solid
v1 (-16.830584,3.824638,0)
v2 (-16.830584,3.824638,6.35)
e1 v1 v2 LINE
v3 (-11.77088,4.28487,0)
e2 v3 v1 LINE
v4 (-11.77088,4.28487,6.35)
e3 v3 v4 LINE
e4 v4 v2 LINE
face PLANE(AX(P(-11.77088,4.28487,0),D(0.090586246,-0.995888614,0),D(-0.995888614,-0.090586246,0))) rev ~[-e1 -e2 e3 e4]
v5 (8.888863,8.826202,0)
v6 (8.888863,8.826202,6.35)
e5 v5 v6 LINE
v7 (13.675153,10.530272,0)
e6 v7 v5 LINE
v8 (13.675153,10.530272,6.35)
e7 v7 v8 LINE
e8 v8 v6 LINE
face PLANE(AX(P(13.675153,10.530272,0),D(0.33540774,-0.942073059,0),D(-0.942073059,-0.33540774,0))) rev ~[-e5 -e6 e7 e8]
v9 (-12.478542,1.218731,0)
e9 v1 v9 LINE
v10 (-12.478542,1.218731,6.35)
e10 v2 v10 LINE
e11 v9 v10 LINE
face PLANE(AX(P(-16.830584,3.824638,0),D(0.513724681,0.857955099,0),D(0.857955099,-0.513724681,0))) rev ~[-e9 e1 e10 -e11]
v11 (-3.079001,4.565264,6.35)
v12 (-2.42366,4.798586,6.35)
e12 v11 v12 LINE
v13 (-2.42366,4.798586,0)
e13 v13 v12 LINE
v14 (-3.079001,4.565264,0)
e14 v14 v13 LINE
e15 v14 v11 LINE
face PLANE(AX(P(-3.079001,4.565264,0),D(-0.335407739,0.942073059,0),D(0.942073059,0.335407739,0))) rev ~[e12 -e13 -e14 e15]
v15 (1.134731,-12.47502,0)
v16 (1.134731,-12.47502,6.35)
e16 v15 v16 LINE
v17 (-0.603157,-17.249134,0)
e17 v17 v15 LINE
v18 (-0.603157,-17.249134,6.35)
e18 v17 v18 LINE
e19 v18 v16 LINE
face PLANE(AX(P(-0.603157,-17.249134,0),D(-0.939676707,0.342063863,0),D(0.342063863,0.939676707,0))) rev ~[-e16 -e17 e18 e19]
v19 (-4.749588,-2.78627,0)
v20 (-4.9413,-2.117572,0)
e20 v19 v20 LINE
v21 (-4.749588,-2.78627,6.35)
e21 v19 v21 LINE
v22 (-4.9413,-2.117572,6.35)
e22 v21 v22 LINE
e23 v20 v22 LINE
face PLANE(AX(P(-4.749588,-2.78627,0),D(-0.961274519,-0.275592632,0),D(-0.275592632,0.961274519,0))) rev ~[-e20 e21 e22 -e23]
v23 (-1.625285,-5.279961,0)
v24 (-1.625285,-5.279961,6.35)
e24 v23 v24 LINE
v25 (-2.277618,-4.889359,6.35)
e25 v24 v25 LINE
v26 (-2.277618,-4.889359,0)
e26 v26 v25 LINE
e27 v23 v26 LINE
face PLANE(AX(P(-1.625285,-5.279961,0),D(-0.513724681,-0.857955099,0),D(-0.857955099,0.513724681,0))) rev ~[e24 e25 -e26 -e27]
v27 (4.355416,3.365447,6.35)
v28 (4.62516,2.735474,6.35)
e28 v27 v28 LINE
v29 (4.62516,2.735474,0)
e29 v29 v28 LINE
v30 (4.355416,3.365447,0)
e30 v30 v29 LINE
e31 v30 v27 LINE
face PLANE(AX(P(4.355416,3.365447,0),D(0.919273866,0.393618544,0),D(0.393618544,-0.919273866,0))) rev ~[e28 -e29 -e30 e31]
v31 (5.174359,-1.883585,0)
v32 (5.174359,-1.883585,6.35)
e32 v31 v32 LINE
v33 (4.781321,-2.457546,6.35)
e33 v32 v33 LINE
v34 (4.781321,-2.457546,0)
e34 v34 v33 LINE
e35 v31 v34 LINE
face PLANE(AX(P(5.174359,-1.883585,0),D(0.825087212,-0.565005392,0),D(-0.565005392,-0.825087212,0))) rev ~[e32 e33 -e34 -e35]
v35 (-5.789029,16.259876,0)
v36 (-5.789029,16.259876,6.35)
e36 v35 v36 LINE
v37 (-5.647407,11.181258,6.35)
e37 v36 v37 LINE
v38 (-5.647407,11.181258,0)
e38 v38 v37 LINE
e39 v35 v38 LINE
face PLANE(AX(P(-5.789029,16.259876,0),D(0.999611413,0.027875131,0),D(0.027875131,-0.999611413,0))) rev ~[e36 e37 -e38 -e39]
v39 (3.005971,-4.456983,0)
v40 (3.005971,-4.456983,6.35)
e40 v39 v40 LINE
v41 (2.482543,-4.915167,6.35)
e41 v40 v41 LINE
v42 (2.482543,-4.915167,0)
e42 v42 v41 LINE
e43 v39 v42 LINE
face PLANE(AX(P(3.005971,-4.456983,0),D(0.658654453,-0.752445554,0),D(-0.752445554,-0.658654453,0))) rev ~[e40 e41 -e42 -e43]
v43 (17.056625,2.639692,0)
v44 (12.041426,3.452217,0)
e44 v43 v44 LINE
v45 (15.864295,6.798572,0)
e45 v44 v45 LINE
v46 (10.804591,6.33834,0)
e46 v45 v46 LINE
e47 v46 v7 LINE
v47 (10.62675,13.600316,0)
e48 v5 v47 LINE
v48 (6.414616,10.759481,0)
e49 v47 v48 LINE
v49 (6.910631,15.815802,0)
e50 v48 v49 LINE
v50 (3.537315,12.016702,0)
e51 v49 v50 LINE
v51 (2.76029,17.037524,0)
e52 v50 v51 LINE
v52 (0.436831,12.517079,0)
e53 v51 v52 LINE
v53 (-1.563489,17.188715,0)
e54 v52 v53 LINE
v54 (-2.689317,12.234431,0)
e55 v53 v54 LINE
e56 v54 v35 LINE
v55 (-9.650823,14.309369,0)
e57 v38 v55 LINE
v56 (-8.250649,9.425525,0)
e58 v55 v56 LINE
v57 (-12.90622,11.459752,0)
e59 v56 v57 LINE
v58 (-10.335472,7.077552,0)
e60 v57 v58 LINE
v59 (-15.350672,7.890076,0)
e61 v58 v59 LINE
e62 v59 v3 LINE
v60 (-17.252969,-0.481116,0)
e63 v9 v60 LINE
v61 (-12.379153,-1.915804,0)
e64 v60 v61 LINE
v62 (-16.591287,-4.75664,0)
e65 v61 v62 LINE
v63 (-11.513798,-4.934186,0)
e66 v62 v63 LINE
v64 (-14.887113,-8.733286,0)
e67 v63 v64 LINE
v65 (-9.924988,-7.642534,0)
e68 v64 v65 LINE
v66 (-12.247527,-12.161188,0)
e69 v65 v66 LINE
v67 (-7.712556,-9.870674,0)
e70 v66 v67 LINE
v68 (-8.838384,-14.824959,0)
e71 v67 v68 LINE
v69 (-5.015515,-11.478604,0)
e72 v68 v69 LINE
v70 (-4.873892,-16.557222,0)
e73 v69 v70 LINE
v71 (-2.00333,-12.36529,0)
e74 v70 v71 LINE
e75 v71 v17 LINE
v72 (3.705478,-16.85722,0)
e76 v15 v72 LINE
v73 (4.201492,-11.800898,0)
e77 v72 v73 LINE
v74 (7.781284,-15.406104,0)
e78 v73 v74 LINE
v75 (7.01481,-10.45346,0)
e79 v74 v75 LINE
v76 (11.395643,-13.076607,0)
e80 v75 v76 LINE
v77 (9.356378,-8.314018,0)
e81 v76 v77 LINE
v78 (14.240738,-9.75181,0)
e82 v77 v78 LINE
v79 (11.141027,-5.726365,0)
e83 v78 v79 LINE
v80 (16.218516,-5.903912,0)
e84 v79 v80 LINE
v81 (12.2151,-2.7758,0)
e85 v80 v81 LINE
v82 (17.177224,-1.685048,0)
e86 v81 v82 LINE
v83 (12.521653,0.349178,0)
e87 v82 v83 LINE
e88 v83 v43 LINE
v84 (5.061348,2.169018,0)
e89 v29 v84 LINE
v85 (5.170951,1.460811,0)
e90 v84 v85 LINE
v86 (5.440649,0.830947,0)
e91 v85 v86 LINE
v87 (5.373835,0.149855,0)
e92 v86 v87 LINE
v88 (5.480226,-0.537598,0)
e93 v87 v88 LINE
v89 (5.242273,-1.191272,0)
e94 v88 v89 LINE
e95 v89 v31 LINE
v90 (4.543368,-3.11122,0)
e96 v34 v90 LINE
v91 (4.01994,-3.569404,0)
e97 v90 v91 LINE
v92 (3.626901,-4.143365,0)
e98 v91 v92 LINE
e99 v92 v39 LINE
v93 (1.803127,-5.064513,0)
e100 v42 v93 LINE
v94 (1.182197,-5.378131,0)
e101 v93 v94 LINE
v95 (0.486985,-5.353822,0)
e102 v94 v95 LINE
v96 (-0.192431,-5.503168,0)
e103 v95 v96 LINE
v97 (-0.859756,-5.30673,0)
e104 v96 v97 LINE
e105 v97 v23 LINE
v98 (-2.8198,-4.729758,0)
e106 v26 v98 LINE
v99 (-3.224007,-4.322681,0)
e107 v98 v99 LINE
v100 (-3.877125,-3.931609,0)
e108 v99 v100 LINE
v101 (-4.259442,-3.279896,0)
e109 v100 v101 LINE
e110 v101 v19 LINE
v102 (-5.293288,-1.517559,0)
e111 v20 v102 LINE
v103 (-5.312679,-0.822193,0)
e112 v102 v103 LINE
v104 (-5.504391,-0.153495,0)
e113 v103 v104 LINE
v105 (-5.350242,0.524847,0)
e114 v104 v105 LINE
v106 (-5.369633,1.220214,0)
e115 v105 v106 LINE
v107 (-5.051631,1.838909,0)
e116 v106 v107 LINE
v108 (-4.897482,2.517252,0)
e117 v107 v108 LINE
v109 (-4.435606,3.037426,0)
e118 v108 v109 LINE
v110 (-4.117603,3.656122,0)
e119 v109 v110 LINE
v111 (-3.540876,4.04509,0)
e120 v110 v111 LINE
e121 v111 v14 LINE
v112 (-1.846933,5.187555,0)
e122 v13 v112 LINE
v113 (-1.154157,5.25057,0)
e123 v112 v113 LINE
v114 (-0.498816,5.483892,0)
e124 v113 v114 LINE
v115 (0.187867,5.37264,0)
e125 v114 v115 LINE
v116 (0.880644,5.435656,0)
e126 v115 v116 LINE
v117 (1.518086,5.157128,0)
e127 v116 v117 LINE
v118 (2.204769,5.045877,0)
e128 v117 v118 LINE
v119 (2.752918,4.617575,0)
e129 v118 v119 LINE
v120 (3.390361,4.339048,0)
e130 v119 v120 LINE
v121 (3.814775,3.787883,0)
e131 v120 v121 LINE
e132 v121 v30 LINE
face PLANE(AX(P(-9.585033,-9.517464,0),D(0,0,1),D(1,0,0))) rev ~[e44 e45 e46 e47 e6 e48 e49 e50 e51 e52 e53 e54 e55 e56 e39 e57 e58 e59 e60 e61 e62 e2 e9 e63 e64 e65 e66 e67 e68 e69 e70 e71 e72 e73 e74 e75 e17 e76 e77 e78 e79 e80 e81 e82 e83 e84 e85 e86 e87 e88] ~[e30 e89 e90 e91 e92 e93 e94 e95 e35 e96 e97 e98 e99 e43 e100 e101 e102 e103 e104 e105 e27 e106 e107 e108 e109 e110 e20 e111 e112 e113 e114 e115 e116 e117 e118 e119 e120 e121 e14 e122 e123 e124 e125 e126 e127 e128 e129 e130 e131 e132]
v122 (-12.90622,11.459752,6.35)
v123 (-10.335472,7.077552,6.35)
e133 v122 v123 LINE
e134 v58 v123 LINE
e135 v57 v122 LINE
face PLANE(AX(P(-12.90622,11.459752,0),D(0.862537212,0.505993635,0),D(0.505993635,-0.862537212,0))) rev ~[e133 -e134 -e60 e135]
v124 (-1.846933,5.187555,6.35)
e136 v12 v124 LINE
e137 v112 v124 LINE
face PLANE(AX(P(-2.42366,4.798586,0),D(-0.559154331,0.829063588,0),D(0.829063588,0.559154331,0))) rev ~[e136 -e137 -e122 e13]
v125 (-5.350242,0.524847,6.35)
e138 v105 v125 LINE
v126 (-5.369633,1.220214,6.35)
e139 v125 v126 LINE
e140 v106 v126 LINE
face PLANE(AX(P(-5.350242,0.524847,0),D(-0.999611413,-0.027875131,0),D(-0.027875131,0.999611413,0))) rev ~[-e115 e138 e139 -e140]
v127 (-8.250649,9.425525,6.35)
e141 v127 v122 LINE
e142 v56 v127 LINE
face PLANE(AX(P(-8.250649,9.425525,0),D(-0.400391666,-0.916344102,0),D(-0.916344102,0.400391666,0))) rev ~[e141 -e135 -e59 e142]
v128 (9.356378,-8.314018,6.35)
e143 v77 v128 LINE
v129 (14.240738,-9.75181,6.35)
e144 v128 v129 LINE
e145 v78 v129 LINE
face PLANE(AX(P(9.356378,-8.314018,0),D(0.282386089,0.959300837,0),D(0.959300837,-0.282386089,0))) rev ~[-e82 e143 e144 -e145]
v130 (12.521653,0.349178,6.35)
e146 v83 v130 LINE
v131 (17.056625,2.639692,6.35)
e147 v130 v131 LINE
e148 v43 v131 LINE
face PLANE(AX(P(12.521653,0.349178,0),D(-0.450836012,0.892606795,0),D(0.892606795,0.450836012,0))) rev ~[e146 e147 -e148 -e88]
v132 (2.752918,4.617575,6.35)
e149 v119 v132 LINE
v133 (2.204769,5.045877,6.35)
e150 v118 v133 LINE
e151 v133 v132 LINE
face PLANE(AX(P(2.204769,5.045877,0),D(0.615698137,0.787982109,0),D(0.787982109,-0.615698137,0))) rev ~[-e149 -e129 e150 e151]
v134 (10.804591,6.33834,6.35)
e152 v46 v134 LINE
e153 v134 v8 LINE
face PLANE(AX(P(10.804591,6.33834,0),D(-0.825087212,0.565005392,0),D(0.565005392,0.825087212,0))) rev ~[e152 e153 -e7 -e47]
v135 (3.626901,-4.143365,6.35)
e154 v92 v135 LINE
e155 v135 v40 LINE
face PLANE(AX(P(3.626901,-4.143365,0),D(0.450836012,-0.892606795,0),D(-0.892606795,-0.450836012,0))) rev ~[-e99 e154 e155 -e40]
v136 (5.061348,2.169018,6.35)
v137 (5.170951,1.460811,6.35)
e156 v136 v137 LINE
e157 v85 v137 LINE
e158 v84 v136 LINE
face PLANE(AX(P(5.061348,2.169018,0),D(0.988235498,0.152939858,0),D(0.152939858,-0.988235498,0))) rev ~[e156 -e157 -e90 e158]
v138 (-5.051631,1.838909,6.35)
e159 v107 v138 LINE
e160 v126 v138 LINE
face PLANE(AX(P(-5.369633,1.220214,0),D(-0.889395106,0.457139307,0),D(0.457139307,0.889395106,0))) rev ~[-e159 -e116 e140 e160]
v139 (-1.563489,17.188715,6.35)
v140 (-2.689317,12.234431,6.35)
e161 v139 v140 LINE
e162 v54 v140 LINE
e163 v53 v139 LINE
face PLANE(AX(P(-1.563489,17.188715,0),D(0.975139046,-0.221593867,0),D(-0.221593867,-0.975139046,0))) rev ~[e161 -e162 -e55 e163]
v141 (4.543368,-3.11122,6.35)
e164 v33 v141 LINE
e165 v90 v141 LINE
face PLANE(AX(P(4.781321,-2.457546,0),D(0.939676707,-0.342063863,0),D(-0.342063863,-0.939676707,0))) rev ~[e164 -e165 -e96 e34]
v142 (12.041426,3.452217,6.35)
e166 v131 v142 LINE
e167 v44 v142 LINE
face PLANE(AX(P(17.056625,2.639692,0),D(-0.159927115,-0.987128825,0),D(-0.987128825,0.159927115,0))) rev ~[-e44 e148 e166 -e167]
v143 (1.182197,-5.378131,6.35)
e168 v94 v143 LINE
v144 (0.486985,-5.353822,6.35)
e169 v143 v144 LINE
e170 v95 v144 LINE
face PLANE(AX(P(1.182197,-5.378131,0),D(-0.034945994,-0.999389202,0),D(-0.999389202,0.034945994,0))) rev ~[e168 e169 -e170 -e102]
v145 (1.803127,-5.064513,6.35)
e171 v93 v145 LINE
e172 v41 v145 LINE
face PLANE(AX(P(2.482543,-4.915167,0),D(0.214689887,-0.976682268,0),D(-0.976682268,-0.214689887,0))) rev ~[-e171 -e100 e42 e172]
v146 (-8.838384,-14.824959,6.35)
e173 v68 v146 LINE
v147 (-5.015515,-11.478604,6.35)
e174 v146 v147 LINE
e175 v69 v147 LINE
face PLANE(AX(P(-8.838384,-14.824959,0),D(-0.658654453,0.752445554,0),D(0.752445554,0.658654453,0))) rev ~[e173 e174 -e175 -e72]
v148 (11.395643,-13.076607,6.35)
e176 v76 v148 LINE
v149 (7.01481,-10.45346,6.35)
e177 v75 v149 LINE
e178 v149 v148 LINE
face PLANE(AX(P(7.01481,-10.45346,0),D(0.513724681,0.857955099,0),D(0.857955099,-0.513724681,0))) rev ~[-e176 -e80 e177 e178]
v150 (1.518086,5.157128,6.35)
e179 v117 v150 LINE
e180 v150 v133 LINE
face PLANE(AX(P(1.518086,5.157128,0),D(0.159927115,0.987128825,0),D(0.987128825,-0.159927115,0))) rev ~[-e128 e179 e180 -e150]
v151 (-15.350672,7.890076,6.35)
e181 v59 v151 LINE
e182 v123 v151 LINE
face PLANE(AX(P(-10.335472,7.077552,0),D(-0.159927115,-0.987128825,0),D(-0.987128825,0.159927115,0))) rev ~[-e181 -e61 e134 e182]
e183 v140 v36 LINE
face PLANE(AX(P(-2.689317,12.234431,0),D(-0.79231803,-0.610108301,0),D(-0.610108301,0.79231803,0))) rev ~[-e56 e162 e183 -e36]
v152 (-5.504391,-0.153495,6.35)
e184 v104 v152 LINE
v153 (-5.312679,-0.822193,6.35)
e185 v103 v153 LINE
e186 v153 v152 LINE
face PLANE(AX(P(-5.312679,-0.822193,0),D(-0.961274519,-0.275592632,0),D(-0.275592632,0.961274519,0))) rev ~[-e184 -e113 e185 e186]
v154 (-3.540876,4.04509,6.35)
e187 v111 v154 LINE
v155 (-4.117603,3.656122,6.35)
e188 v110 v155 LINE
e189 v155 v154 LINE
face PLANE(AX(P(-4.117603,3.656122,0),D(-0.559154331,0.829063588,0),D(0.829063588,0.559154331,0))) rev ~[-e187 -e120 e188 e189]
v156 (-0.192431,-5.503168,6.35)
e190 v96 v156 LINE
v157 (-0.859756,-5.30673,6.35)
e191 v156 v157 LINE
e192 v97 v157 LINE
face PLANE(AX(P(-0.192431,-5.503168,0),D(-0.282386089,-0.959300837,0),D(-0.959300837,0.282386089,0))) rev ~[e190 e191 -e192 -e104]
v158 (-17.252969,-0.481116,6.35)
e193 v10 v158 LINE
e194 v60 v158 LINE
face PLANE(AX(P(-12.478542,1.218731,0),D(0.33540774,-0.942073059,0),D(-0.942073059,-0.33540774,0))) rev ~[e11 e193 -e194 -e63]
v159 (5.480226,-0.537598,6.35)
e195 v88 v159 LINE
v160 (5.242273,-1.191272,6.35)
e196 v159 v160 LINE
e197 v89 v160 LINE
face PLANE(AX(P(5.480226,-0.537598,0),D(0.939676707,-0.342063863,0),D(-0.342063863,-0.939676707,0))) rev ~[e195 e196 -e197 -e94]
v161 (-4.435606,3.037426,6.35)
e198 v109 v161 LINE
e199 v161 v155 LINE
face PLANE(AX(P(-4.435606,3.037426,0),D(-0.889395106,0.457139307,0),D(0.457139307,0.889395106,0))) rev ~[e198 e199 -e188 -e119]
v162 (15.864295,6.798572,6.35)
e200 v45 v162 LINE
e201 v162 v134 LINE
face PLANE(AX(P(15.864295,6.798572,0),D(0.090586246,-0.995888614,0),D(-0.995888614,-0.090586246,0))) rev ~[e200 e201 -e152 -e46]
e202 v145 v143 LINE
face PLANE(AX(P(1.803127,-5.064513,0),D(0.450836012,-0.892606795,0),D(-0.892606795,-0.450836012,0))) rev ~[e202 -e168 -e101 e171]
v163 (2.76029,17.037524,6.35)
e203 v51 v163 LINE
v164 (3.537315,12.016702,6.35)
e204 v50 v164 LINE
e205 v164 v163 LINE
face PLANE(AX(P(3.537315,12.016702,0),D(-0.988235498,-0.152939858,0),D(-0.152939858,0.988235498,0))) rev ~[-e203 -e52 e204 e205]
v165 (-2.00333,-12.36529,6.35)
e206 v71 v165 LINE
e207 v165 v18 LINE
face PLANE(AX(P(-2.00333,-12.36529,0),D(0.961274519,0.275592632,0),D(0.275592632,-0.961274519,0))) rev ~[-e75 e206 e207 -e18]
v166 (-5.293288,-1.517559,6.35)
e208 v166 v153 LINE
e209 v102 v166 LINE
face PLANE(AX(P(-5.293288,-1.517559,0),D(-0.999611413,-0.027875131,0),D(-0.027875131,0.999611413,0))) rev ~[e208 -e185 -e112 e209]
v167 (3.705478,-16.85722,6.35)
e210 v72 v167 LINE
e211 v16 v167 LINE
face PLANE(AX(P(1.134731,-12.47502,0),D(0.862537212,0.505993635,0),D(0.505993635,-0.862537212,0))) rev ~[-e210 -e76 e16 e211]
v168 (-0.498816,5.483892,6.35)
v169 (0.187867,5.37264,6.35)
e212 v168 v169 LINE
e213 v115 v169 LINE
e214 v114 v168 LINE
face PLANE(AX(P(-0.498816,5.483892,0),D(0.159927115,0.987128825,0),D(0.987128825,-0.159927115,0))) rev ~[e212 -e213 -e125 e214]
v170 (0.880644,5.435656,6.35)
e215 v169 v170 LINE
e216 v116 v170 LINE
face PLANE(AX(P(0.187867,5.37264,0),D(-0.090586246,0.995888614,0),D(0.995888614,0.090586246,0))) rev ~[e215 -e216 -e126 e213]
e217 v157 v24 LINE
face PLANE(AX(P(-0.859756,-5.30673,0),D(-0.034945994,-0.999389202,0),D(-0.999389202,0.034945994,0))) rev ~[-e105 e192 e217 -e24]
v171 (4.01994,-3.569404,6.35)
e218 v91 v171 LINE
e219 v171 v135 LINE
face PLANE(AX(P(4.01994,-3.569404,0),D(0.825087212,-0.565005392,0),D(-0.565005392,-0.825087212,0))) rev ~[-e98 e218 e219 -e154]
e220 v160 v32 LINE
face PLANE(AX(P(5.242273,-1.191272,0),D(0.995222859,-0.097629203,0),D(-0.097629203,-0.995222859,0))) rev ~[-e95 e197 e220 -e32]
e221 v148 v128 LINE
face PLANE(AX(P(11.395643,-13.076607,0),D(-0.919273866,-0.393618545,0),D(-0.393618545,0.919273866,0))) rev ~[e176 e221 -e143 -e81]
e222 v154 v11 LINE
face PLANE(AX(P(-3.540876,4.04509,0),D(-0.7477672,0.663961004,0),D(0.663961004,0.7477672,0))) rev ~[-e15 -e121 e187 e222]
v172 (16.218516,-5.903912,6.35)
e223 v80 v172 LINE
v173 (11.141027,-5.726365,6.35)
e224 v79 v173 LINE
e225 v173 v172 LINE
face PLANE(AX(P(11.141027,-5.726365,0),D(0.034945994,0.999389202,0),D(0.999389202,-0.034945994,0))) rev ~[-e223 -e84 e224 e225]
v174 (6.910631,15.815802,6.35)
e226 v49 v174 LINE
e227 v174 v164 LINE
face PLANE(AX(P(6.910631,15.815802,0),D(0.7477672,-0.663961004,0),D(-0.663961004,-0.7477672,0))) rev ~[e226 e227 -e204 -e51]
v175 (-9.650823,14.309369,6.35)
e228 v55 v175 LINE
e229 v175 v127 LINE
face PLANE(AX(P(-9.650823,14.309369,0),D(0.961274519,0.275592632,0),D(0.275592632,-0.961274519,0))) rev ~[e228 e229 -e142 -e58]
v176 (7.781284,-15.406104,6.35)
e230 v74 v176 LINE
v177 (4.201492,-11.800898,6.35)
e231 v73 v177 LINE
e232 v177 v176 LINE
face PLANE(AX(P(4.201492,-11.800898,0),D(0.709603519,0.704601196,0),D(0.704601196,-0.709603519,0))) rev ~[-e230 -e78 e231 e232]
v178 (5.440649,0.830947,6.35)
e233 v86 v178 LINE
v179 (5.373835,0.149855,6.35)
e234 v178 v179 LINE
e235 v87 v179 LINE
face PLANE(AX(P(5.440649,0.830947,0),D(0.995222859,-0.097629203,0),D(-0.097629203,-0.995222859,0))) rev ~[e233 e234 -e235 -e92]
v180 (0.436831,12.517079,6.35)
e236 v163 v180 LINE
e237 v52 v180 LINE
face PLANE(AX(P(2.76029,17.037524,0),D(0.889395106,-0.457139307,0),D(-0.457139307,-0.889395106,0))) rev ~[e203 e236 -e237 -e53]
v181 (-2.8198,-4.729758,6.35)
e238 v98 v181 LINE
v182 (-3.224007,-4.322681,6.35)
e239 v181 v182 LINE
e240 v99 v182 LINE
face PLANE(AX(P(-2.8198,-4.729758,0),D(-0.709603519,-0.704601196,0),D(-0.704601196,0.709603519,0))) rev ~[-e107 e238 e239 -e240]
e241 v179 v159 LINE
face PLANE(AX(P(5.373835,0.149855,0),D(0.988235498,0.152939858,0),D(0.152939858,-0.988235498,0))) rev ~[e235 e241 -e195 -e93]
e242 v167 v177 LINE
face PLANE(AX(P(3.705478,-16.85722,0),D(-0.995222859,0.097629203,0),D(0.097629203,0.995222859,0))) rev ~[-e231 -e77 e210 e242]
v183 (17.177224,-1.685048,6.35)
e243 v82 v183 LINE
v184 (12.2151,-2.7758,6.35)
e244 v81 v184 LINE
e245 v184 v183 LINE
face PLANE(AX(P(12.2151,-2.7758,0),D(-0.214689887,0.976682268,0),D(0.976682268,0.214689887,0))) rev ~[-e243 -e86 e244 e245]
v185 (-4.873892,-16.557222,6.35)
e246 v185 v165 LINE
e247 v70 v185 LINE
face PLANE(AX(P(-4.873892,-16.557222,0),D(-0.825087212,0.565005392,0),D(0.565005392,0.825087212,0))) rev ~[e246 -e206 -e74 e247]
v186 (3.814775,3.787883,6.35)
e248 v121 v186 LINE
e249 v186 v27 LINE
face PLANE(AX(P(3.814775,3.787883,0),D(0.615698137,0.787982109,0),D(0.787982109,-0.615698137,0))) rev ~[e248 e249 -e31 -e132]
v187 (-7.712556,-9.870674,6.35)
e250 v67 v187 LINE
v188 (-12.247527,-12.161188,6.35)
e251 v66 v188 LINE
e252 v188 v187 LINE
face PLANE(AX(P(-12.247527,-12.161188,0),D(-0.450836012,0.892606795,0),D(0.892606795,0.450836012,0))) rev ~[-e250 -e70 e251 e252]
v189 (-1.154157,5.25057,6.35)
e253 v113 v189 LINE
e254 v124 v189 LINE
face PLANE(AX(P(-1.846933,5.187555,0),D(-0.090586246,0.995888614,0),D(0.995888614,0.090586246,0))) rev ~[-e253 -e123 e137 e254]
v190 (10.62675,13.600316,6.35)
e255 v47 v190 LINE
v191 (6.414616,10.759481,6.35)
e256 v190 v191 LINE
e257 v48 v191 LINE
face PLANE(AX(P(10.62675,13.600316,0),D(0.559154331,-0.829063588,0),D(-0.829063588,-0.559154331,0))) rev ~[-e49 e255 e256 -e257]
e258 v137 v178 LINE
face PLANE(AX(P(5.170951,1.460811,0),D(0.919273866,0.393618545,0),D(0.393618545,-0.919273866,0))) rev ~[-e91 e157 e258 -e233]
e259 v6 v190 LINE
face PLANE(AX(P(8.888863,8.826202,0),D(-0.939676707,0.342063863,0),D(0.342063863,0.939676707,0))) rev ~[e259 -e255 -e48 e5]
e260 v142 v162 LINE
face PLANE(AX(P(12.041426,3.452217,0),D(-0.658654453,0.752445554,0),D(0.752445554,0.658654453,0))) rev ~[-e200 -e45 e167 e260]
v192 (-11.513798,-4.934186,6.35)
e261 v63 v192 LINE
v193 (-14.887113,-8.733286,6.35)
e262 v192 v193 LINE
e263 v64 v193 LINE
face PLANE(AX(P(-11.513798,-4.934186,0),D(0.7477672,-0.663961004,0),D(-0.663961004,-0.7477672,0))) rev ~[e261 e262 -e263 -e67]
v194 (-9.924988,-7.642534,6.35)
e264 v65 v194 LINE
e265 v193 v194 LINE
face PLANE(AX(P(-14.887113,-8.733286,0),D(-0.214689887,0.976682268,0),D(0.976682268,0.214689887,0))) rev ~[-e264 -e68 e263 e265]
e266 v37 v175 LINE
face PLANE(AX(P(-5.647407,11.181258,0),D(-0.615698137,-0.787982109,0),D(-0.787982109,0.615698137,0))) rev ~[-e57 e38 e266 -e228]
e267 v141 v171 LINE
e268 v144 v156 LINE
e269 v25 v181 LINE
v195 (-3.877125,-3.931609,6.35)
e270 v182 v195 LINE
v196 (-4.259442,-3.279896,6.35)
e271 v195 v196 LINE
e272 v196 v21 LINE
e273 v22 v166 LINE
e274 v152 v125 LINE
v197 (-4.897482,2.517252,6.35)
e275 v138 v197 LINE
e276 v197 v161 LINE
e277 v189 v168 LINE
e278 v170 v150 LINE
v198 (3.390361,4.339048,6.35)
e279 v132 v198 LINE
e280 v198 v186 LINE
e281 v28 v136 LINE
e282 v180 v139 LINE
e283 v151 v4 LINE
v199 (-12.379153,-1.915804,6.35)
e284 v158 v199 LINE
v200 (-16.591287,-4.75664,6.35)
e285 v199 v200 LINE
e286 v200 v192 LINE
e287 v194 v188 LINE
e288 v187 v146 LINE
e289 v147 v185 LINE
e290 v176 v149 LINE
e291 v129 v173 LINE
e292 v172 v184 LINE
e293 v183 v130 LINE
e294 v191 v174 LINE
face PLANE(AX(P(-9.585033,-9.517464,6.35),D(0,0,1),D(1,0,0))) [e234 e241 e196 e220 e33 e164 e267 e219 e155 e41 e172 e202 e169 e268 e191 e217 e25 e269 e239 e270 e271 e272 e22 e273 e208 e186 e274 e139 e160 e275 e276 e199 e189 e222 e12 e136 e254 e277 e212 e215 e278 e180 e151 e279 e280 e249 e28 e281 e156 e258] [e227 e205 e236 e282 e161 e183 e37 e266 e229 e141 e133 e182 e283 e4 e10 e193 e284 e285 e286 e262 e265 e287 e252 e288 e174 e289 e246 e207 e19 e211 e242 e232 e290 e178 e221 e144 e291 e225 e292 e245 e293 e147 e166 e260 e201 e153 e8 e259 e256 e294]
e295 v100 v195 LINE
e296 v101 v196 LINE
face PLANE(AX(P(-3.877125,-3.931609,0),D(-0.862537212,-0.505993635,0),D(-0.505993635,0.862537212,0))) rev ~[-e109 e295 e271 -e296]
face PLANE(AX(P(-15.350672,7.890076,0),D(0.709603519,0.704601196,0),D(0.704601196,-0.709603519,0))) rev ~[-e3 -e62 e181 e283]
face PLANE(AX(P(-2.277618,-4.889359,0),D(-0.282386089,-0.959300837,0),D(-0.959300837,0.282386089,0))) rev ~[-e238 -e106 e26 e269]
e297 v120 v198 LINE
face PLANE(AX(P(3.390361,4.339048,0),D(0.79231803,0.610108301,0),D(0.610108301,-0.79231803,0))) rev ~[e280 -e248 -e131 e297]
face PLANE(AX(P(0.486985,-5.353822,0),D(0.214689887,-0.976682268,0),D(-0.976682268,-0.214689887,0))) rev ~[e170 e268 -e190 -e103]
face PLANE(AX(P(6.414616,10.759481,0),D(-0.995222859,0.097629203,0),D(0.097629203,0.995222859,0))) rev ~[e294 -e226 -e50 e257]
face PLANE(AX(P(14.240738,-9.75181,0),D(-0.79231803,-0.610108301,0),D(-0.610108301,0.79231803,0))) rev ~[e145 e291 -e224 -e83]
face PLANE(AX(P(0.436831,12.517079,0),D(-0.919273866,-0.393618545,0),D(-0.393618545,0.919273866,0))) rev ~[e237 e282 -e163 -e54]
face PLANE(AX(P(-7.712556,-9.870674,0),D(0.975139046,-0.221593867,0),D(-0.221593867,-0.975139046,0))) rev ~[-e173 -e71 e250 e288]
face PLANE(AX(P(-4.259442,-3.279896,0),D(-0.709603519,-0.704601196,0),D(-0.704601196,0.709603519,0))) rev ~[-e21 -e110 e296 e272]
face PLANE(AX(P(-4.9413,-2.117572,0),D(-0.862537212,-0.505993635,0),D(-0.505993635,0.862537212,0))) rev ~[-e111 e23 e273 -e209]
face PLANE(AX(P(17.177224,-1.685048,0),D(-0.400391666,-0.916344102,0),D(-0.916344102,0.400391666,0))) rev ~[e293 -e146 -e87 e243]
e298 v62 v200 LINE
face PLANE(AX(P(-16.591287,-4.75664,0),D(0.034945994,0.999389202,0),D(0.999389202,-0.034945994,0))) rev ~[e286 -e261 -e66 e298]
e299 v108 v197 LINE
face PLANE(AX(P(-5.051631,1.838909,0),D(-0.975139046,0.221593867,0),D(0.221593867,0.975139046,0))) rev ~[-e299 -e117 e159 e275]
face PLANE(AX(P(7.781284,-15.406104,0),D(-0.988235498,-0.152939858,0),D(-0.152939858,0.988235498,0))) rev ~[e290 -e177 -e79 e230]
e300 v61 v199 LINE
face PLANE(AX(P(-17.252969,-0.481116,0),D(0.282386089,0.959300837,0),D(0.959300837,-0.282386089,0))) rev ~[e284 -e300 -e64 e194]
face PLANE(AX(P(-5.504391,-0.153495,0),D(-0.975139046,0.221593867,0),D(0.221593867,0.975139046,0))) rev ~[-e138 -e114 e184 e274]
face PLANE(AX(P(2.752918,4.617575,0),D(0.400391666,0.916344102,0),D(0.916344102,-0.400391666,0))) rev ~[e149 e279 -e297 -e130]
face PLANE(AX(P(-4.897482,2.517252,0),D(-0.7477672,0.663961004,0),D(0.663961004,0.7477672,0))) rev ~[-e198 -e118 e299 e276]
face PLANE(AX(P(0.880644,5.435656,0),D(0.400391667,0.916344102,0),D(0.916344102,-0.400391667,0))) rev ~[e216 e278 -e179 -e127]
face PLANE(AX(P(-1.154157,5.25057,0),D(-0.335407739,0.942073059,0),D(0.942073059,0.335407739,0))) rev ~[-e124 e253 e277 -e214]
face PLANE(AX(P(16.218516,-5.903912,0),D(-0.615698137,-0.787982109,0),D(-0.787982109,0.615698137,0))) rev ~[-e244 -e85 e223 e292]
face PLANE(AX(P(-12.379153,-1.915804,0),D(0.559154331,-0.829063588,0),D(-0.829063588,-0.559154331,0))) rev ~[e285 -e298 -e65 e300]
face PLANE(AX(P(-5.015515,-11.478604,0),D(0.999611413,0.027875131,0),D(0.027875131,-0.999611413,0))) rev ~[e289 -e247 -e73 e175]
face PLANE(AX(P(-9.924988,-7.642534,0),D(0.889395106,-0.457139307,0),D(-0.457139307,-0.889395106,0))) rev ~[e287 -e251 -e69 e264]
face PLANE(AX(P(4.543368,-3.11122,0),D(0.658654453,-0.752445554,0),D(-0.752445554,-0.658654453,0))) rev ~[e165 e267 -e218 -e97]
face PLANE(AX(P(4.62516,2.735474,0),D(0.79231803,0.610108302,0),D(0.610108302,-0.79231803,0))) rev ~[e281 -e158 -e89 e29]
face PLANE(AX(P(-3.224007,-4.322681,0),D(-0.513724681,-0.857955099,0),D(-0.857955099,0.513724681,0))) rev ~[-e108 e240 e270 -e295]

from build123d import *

# Parameters (mm, degrees)
F1_DEPTH = 6.35


with BuildPart() as f1:
    # F0 (on Top) → F1 (new body)
    with BuildSketch(Plane.XY):
        Polygon((-9.9249884928, -7.6425344914), (-12.247526979, -12.1611884982), (-7.7125556882, -9.8706744851), (-7.0632786771, -7.0134863597), align=None)
        Polygon((-14.8871129928, -8.7332862962), (-9.9249884928, -7.6425344914), (-8.5855559204, -5.0365788116), (-11.5137977688, -4.9341859484), align=None)
        Polygon((-2.689317388, 12.2344310052), (-0.9016808431, 9.9129142155), (0.4368313525, 12.5170792408), (-1.5634892742, 17.1887150212), align=None)
        Polygon((2.7602902155, 17.0375239022), (0.4368313525, 12.5170792408), (1.59009399, 9.8236995246), (3.5373152954, 12.0167021489), align=None)
        Polygon((6.9106305194, 15.8158024967), (3.5373152954, 12.0167021489), (3.9854338983, 9.1211410048), (6.4146163322, 10.759480812), align=None)
        Polygon((6.5561399087, -7.4897213623), (7.0148097041, -10.4534600445), (11.3956434652, -13.0766071379), (9.3563779673, -8.3140178118), align=None)
        Polygon((4.4824223233, -8.9371220687), (4.2014921158, -11.8008980182), (7.7812835915, -15.4061042596), (7.0148097041, -10.4534600445), align=None)
        Polygon((2.136988413, -9.7217373504), (1.1347305184, -12.4750197068), (3.7054779287, -16.8572197029), (4.2014921158, -11.8008980182), align=None)
        Polygon((-16.8305841839, 3.8246383906), (-12.478542001, 1.2187310622), (-9.7063763642, 2.2057095149), (-11.770880067, 4.2848701827), align=None)
        Polygon((-15.3506715427, 7.8900764242), (-11.770880067, 4.2848701827), (-8.8528950516, 4.5502907373), (-10.3354723423, 7.0775519423), align=None)
        Polygon((-12.9062197526, 11.4597519383), (-10.3354723423, 7.0775519423), (-7.4431537842, 6.6089604578), (-8.2506488792, 9.4255250839), align=None)
        Polygon((9.1491069561, 3.9208083979), (12.0414255143, 3.4522169134), (15.8642946714, 6.7985717154), (10.8045905545, 6.3383399234), align=None)
        Polygon((9.8367363351, 1.5223386156), (12.5216534238, 0.3491784184), (17.0566247147, 2.6396924315), (12.0414255143, 3.4522169134), align=None)
        Polygon((9.9062873932, -0.9717853007), (12.2150997973, -2.7758002408), (17.1772242973, -1.685048436), (12.5216534238, 0.3491784184), align=None)
        Polygon((-5.0971896576, -8.549710766), (-7.7125556882, -9.8706744851), (-8.8383838019, -14.8249585011), (-5.0155146449, -11.4786036991), align=None)
        Polygon((-16.5912869462, -4.7566395974), (-11.5137977688, -4.9341859484), (-9.5683711098, -2.7432044935), (-12.3791527863, -1.9158043555), align=None)
        Polygon((10.6267504922, 13.600316054), (6.4146163322, 10.759480812), (6.128559691, 7.8434464811), (8.8888634336, 8.8262017251), align=None)
        Polygon((-0.3478467723, -9.9477585018), (-2.0033303707, -12.3652900273), (-0.6031565401, -17.2491340356), (1.1347305184, -12.4750197068), align=None)
        Polygon((-9.6508227097, 14.3093690922), (-8.2506488792, 9.4255250839), (-5.5657317905, 8.2523648867), (-5.6474068032, 11.1812578198), align=None)
        Polygon((9.3533899816, -3.4048483725), (11.1410265265, -5.7263651621), (16.2185157039, -5.9039115131), (12.2150997973, -2.7758002408), align=None)
        Polygon((-17.2529693223, -0.4811157391), (-12.3791527863, -1.9158043555), (-9.9639958973, -0.2869239484), (-12.478542001, 1.2187310622), align=None)
        Polygon((8.8888634336, 8.8262017251), (7.886605539, 6.0729193688), (10.8045905545, 6.3383399234), (13.6751526491, 10.5302717351), align=None)
        Polygon((-2.8108254657, -9.5487254013), (-5.0155146449, -11.4786036991), (-4.8738924653, -16.557221839), (-2.0033303707, -12.3652900273), align=None)
        Polygon((-5.7890289828, 16.2598759598), (-5.6474068032, 11.1812578198), (-3.3385943991, 9.3772428798), (-2.689317388, 12.2344310052), align=None)
        Polygon((8.2044177088, -5.6236797282), (9.3563779673, -8.3140178118), (14.2407381212, -9.7518101167), (11.1410265265, -5.7263651621), align=None)
        Polygon((-11.5137977688, -4.9341859484), (-8.5855559204, -5.0365788116), (-7.6908568489, -3.2958819112), (-9.5683711098, -2.7432044935), align=None)
        Polygon((0.4368313525, 12.5170792408), (-0.9016808431, 9.9129142155), (0.2924044657, 8.3622135988), (1.59009399, 9.8236995246), align=None)
        Polygon((6.4146163322, 10.759480812), (3.9854338983, 9.1211410048), (4.2847631114, 7.1869967109), (6.128559691, 7.8434464811), align=None)
        Polygon((6.2568106956, -5.5555770683), (6.5561399087, -7.4897213623), (9.3563779673, -8.3140178118), (8.2044177088, -5.6236797282), align=None)
        Polygon((2.7912330824, -7.9244750742), (2.136988413, -9.7217373504), (4.2014921158, -11.8008980182), (4.4824223233, -8.9371220687), align=None)
        Polygon((0.7579645009, -8.3329230441), (-0.3478467723, -9.9477585018), (1.1347305184, -12.4750197068), (2.136988413, -9.7217373504), align=None)
        Polygon((-12.478542001, 1.2187310622), (-9.9639958973, -0.2869239484), (-8.3273524521, 0.8168952086), (-9.7063763642, 2.2057095149), align=None)
        Polygon((-10.3354723423, 7.0775519423), (-8.8528950516, 4.5502907373), (-6.9037723127, 4.7275833675), (-7.4431537842, 6.6089604578), align=None)
        Polygon((-8.2506488792, 9.4255250839), (-7.4431537842, 6.6089604578), (-5.5111754362, 6.2959560001), (-5.5657317905, 8.2523648867), align=None)
        Polygon((8.0432956829, 2.3059729401), (9.8367363351, 1.5223386156), (12.0414255143, 3.4522169134), (9.1491069561, 3.9208083979), align=None)
        Polygon((8.3640729087, 0.233240264), (9.9062873932, -0.9717853007), (12.5216534238, 0.3491784184), (9.8367363351, 1.5223386156), align=None)
        Polygon((-3.3502069371, -7.667348311), (-5.0971896576, -8.549710766), (-5.0155146449, -11.4786036991), (-2.8108254657, -9.5487254013), align=None)
        Polygon((-7.0632786771, -7.0134863597), (-7.7125556882, -9.8706744851), (-5.0971896576, -8.549710766), (-5.1517460119, -6.5933018793), align=None)
        Polygon((-12.3791527863, -1.9158043555), (-9.5683711098, -2.7432044935), (-8.2817684408, -1.2942048232), (-9.9639958973, -0.2869239484), align=None)
        Polygon((8.8888634336, 8.8262017251), (6.128559691, 7.8434464811), (5.9374828002, 5.8956267385), (7.886605539, 6.0729193688), align=None)
        Polygon((7.4349186173, -3.8265580864), (8.2044177088, -5.6236797282), (11.1410265265, -5.7263651621), (9.3533899816, -3.4048483725), align=None)
        Polygon((-2.0660911099, -7.0187697185), (-3.3502069371, -7.667348311), (-2.8108254657, -9.5487254013), (-1.3381620393, -8.2596270497), align=None)
        Polygon((-6.6295819379, -5.1049740422), (-7.0632786771, -7.0134863597), (-5.1517460119, -6.5933018793), (-5.1918475408, -5.1552478068), align=None)
        Polygon((-9.5683711098, -2.7432044935), (-7.6908568489, -3.2958819112), (-7.0432040229, -2.0358300091), (-8.2817684408, -1.2942048232), align=None)
        Polygon((-9.7063763642, 2.2057095149), (-8.3273524521, 0.8168952086), (-7.134650714, 1.621301954), (-7.8625797846, 2.8621592851), align=None)
        Polygon((-7.4431537842, 6.6089604578), (-6.9037723127, 4.7275833675), (-5.4710739073, 4.8579019275), (-5.5111754362, 6.2959560001), align=None)
        Polygon((-3.7722911382, 7.4687305622), (-2.4540265099, 6.8927218662), (-1.7963799146, 8.1722173151), (-3.3385943991, 9.3772428798), align=None)
        Polygon((1.59009399, 9.8236995246), (0.2924044657, 8.3622135988), (1.1701142599, 7.2223745025), (2.3602476918, 8.0250490774), align=None)
        Polygon((6.128559691, 7.8434464811), (4.2847631114, 7.1869967109), (4.5047843947, 5.7653081785), (5.9374828002, 5.8956267385), align=None)
        Polygon((7.2171286082, 4.2338128556), (6.7250310546, 2.8819816361), (8.0432956829, 2.3059729401), (9.1491069561, 3.9208083979), align=None)
        Polygon((7.2815948785, -0.7143086595), (8.1593046728, -1.8541477557), (9.9062873932, -0.9717853007), (8.3640729087, 0.233240264), align=None)
        Polygon((6.0367894123, -4.133888536), (6.2568106956, -5.5555770683), (8.2044177088, -5.6236797282), (7.4349186173, -3.8265580864), align=None)
        Polygon((3.2985628975, -6.5307996178), (2.7912330824, -7.9244750742), (4.4824223233, -8.9371220687), (4.6786256479, -6.9370439447), align=None)
        Polygon((-0.2556840091, -7.3120781262), (-1.3381620393, -8.2596270497), (-0.3478467723, -9.9477585018), (0.7579645009, -8.3329230441), align=None)
        Polygon((1.5475949938, -7.1798118856), (0.7579645009, -8.3329230441), (2.136988413, -9.7217373504), (2.7912330824, -7.9244750742), align=None)
        Polygon((4.8190762985, -5.5053033037), (4.6786256479, -6.9370439447), (6.5561399087, -7.4897213623), (6.2568106956, -5.5555770683), align=None)
        Polygon((6.8693397476, -2.5056805986), (7.4349186173, -3.8265580864), (9.3533899816, -3.4048483725), (8.1593046728, -1.8541477557), align=None)
        Polygon((7.2304715254, 1.1189916693), (8.3640729087, 0.233240264), (9.8367363351, 1.5223386156), (8.0432956829, 2.3059729401), align=None)
        Polygon((5.9374828002, 5.8956267385), (5.7970321496, 4.4638860976), (7.2171286082, 4.2338128556), (7.886605539, 6.0729193688), align=None)
        Polygon((3.9854338983, 9.1211410048), (2.3602476918, 8.0250490774), (2.9261977991, 6.7033045851), (4.2847631114, 7.1869967109), align=None)
        Polygon((-0.9016808431, 9.9129142155), (-1.7963799146, 8.1722173151), (-0.6627785313, 7.2864659098), (0.2924044657, 8.3622135988), align=None)
        Polygon((-5.5657317905, 8.2523648867), (-5.5111754362, 6.2959560001), (-4.0910789776, 6.0658827581), (-3.7722911382, 7.4687305622), align=None)
        Polygon((-8.8528950516, 4.5502907373), (-7.8625797846, 2.8621592851), (-6.5073011421, 3.3446812528), (-6.9037723127, 4.7275833675), align=None)
        Polygon((-9.9639958973, -0.2869239484), (-8.2817684408, -1.2942048232), (-7.3137039421, -0.2039497093), (-8.3273524521, 0.8168952086), align=None)
        Polygon((-7.6908568489, -3.2958819112), (-8.5855559204, -5.0365788116), (-6.6295819379, -5.1049740422), (-6.3107940985, -3.702126238), align=None)
        Polygon((-5.1517460119, -6.5933018793), (-5.0971896576, -8.549710766), (-3.3502069371, -7.667348311), (-3.7466781078, -6.2844461962), align=None)
        Polygon((-6.3107940985, -3.702126238), (-6.6295819379, -5.1049740422), (-5.1918475408, -5.1552478068), (-5.2234435106, -4.022205892), align=None)
        Polygon((-8.2817684408, -1.2942048232), (-7.0432040229, -2.0358300091), (-6.5150509077, -1.008272789), (-7.3137039421, -0.2039497093), align=None)
        Polygon((-7.8625797846, 2.8621592851), (-7.134650714, 1.621301954), (-6.1949217518, 2.2550935314), (-6.5073011421, 3.3446812528), align=None)
        Polygon((-5.5111754362, 6.2959560001), (-5.4710739073, 4.8579019275), (-4.3422517192, 4.9605798404), (-4.0910789776, 6.0658827581), align=None)
        Polygon((-1.7963799146, 8.1722173151), (-2.4540265099, 6.8927218662), (-1.4153666242, 6.4388849707), (-0.6627785313, 7.2864659098), align=None)
        Polygon((2.3602476918, 8.0250490774), (1.1701142599, 7.2223745025), (1.8616612642, 6.3242959832), (2.9261977991, 6.7033045851), align=None)
        Polygon((4.5047843947, 5.7653081785), (4.6781390279, 4.6451606627), (5.7970321496, 4.4638860976), (5.9374828002, 5.8956267385), align=None)
        Polygon((6.7250310546, 2.8819816361), (6.3373076963, 1.816874654), (7.2304715254, 1.1189916693), (8.0432956829, 2.3059729401), align=None)
        Polygon((6.4238103153, -1.4651717873), (6.8693397476, -2.5056805986), (8.1593046728, -1.8541477557), (7.2815948785, -0.7143086595), align=None)
        Polygon((4.9297372792, -4.3772357378), (4.8190762985, -5.5053033037), (6.2568106956, -5.5555770683), (6.0367894123, -4.133888536), align=None)
        Polygon((2.2112123096, -6.2107199638), (1.5475949938, -7.1798118856), (2.7912330824, -7.9244750742), (3.2985628975, -6.5307996178), align=None)
        Polygon((-1.0543370435, -6.5077550465), (-2.0660911099, -7.0187697185), (-1.3381620393, -8.2596270497), (-0.2556840091, -7.3120781262), align=None)
        Polygon((-5.1918475408, -5.1552478068), (-5.1517460119, -6.5933018793), (-3.7466781078, -6.2844461962), (-4.059057498, -5.1948584749), align=None)
        Polygon((-3.7466781078, -6.2844461962), (-3.3502069371, -7.667348311), (-2.0660911099, -7.0187697185), (-2.6396259747, -6.0410989944), align=None)
        Polygon((0.5665164592, -6.5923635945), (-0.2556840091, -7.3120781262), (0.7579645009, -8.3329230441), (1.5475949938, -7.1798118856), align=None)
        Polygon((3.6862862557, -5.4656926356), (3.2985628975, -6.5307996178), (4.6786256479, -6.9370439447), (4.8190762985, -5.5053033037), align=None)
        Polygon((5.8634347792, -3.0137410202), (6.0367894123, -4.133888536), (7.4349186173, -3.8265580864), (6.8693397476, -2.5056805986), align=None)
        Polygon((4.2847631114, 7.1869967109), (2.9261977991, 6.7033045851), (3.3719542022, 5.6622656967), (4.5047843947, 5.7653081785), align=None)
        Polygon((0.2924044657, 8.3622135988), (-0.6627785313, 7.2864659098), (0.2303852978, 6.5885829251), (1.1701142599, 7.2223745025), align=None)
        Polygon((-4.0910789776, 6.0658827581), (-2.9721858559, 5.884608193), (-2.4540265099, 6.8927218662), (-3.7722911382, 7.4687305622), align=None)
        Polygon((-6.9037723127, 4.7275833675), (-6.5073011421, 3.3446812528), (-5.4394779374, 3.7248600128), (-5.4710739073, 4.8579019275), align=None)
        Polygon((-8.3273524521, 0.8168952086), (-7.3137039421, -0.2039497093), (-6.5611158492, 0.6436312299), (-7.134650714, 1.621301954), align=None)
        Polygon((-7.0432040229, -2.0358300091), (-7.6908568489, -3.2958819112), (-6.3107940985, -3.702126238), (-6.0652129672, -2.6214295857), align=None)
        Polygon((-8.5855559204, -5.0365788116), (-9.9249884928, -7.6425344914), (-7.0632786771, -7.0134863597), (-6.6295819379, -5.1049740422), align=None)
        Polygon((-1.3381620393, -8.2596270497), (-2.8108254657, -9.5487254013), (-2.0033303707, -12.3652900273), (-0.3478467723, -9.9477585018), align=None)
        Polygon((4.6786256479, -6.9370439447), (4.4824223233, -8.9371220687), (7.0148097041, -10.4534600445), (6.5561399087, -7.4897213623), align=None)
        Polygon((8.1593046728, -1.8541477557), (9.3533899816, -3.4048483725), (12.2150997973, -2.7758002408), (9.9062873932, -0.9717853007), align=None)
        Polygon((7.886605539, 6.0729193688), (7.2171286082, 4.2338128556), (9.1491069561, 3.9208083979), (10.8045905545, 6.3383399234), align=None)
        Polygon((3.5373152954, 12.0167021489), (1.59009399, 9.8236995246), (2.3602476918, 8.0250490774), (3.9854338983, 9.1211410048), align=None)
        Polygon((-5.6474068032, 11.1812578198), (-5.5657317905, 8.2523648867), (-3.7722911382, 7.4687305622), (-3.3385943991, 9.3772428798), align=None)
        Polygon((-11.770880067, 4.2848701827), (-9.7063763642, 2.2057095149), (-7.8625797846, 2.8621592851), (-8.8528950516, 4.5502907373), align=None)
        Polygon((-3.3385943991, 9.3772428798), (-1.7963799146, 8.1722173151), (-0.9016808431, 9.9129142155), (-2.689317388, 12.2344310052), align=None)
        Polygon((-6.0652129672, -2.6214295857), (-6.3107940985, -3.702126238), (-5.2234435106, -4.022205892), (-5.2488747006, -3.1102350205), align=None)
        Polygon((-5.2725969431, -2.2595475681), (-5.2488747006, -3.1102350205), (-4.5339861367, -3.5382946001), (-4.7495879513, -2.7862696675), align=None)
        Polygon((-5.8506796099, -1.6773607975), (-6.0652129672, -2.6214295857), (-5.2488747006, -3.1102350205), (-5.2725969431, -2.2595475681), align=None)
        Polygon((-5.2932880012, -1.5175593906), (-5.2725969431, -2.2595475681), (-4.7495879513, -2.7862696675), (-4.9413002859, -2.1175718843), align=None)
        Polygon((-6.5150509077, -1.008272789), (-7.0432040229, -2.0358300091), (-6.0652129672, -2.6214295857), (-5.8506796099, -1.6773607975), align=None)
        Polygon((-5.6688752442, -0.8773181874), (-5.8506796099, -1.6773607975), (-5.2725969431, -2.2595475681), (-5.2932880012, -1.5175593906), align=None)
        Polygon((-5.2234435106, -4.022205892), (-5.1918475408, -5.1552478068), (-4.059057498, -5.1948584749), (-4.3189148979, -4.2884688698), align=None)
        Polygon((-4.059057498, -5.1948584749), (-3.7466781078, -6.2844461962), (-2.6396259747, -6.0410989944), (-3.1167294051, -5.2278091929), align=None)
        Polygon((-2.6396259747, -6.0410989944), (-2.0660911099, -7.0187697185), (-1.0543370435, -6.5077550465), (-1.7187083413, -5.8386670379), align=None)
        Polygon((-0.2517659208, -6.1023940673), (-1.0543370435, -6.5077550465), (-0.2556840091, -7.3120781262), (0.5665164592, -6.5923635945), align=None)
        Polygon((2.7439581628, -5.4327419176), (2.2112123096, -6.2107199638), (3.2985628975, -6.5307996178), (3.6862862557, -5.4656926356), align=None)
        Polygon((4.0088196458, -4.5796676942), (3.6862862557, -5.4656926356), (4.8190762985, -5.5053033037), (4.9297372792, -4.3772357378), align=None)
        Polygon((5.7192271726, -2.0819297997), (5.8634347792, -3.0137410202), (6.8693397476, -2.5056805986), (6.4238103153, -1.4651717873), align=None)
        Polygon((6.5900478743, 0.1837698598), (7.2815948785, -0.7143086595), (8.3640729087, 0.233240264), (7.2304715254, 1.1189916693), align=None)
        Polygon((3.3719542022, 5.6622656967), (3.7425603354, 4.7967360164), (4.6781390279, 4.6451606627), (4.5047843947, 5.7653081785), align=None)
        Polygon((2.9261977991, 6.7033045851), (1.8616612642, 6.3242959832), (2.4369348322, 5.5772161305), (3.3719542022, 5.6622656967), align=None)
        Polygon((1.8616612642, 6.3242959832), (0.9733767931, 6.0080386784), (1.6198684559, 5.5028955943), (2.4369348322, 5.5772161305), align=None)
        Polygon((-0.5513420898, 6.0613540601), (-1.2315386221, 5.6026017491), (-0.4988159775, 5.4838915915), (0.2004628252, 5.7328569136), align=None)
        Polygon((-4.3189148979, -4.2884688698), (-4.059057498, -5.1948584749), (-3.1167294051, -5.2278091929), (-3.5318665797, -4.5201495772), align=None)
        Polygon((-3.1167294051, -5.2278091929), (-2.6396259747, -6.0410989944), (-1.7187083413, -5.8386670379), (-2.2967910081, -5.2564802674), align=None)
        Polygon((-1.7187083413, -5.8386670379), (-1.0543370435, -6.5077550465), (-0.2517659208, -6.1023940673), (-0.9678523113, -5.6736172554), align=None)
        Polygon((1.3066836969, -5.944456986), (0.5665164592, -6.5923635945), (1.5475949938, -7.1798118856), (2.2112123096, -6.2107199638), align=None)
        Polygon((1.9240197658, -5.4040708431), (1.3066836969, -5.944456986), (2.2112123096, -6.2107199638), (2.7439581628, -5.4327419176), align=None)
        Polygon((3.207510915, -4.7558077617), (2.7439581628, -5.4327419176), (3.6862862557, -5.4656926356), (4.0088196458, -4.5796676942), align=None)
        Polygon((5.0217922471, -3.4388361068), (4.9297372792, -4.3772357378), (6.0367894123, -4.133888536), (5.8634347792, -3.0137410202), align=None)
        Polygon((4.2894623571, -3.808719788), (4.0088196458, -4.5796676942), (4.9297372792, -4.3772357378), (5.0217922471, -3.4388361068), align=None)
        Polygon((5.1018911037, -2.6223159426), (5.0217922471, -3.4388361068), (5.8634347792, -3.0137410202), (5.7192271726, -2.0819297997), align=None)
        Polygon((5.5937492688, -1.2711423422), (5.7192271726, -2.0819297997), (6.4238103153, -1.4651717873), (6.0533491398, -0.5999806477), align=None)
        Polygon((6.0533491398, -0.5999806477), (6.4238103153, -1.4651717873), (7.2815948785, -0.7143086595), (6.5900478743, 0.1837698598), align=None)
        Polygon((6.0147743062, 0.9308497126), (5.7313046688, 0.1521360147), (6.0533491398, -0.5999806477), (6.5900478743, 0.1837698598), align=None)
        Polygon((6.3373076963, 1.816874654), (6.0147743062, 0.9308497126), (6.5900478743, 0.1837698598), (7.2304715254, 1.1189916693), align=None)
        Polygon((5.6863711689, 3.3358185317), (5.594316201, 2.3974189007), (6.3373076963, 1.816874654), (6.7250310546, 2.8819816361), align=None)
        Polygon((4.8223466344, 3.7133494422), (4.9478245382, 2.9025619848), (5.594316201, 2.3974189007), (5.6863711689, 3.3358185317), align=None)
        Polygon((0.5196353786, -5.7127762786), (-0.2517659208, -6.1023940673), (0.5665164592, -6.5923635945), (1.3066836969, -5.944456986), align=None)
        Polygon((-0.9678523113, -5.6736172554), (-0.2517659208, -6.1023940673), (0.5196353786, -5.7127762786), (-0.1924312012, -5.5031676878), align=None)
        Polygon((1.1821965302, -5.378131249), (0.5196353786, -5.7127762786), (1.3066836969, -5.944456986), (1.9240197658, -5.4040708431), align=None)
        Polygon((-5.2488747006, -3.1102350205), (-5.2234435106, -4.022205892), (-4.3189148979, -4.2884688698), (-4.5339861367, -3.5382946001), align=None)
        Polygon((-3.5318665797, -4.5201495772), (-3.1167294051, -5.2278091929), (-2.2967910081, -5.2564802674), (-2.8197999999, -4.729758168), align=None)
        Polygon((-2.2967910081, -5.2564802674), (-1.7187083413, -5.8386670379), (-0.9678523113, -5.6736172554), (-1.6252848904, -5.2799610581), align=None)
        Polygon((-0.1924312012, -5.5031676878), (0.5196353786, -5.7127762786), (1.1821965302, -5.378131249), (0.4869847767, -5.3538215349), align=None)
        Polygon((2.4825425057, -4.9151670444), (1.9240197658, -5.4040708431), (2.7439581628, -5.4327419176), (3.207510915, -4.7558077617), align=None)
        Polygon((3.6269012055, -4.1433648177), (3.207510915, -4.7558077617), (4.0088196458, -4.5796676942), (4.2894623571, -3.808719788), align=None)
        Polygon((4.5433683637, -3.1112197413), (4.2894623571, -3.808719788), (5.0217922471, -3.4388361068), (5.1018911037, -2.6223159426), align=None)
        Polygon((5.7313046688, 0.1521360147), (5.4802255883, -0.5375982404), (5.5937492688, -1.2711423422), (6.0533491398, -0.5999806477), align=None)
        Polygon((5.594316201, 2.3974189007), (5.5142173444, 1.5808987365), (6.0147743062, 0.9308497126), (6.3373076963, 1.816874654), align=None)
        Polygon((5.7970321496, 4.4638860976), (5.6863711689, 3.3358185317), (6.7250310546, 2.8819816361), (7.2171286082, 4.2338128556), align=None)
        Polygon((4.6781390279, 4.6451606627), (4.8223466344, 3.7133494422), (5.6863711689, 3.3358185317), (5.7970321496, 4.4638860976), align=None)
        Polygon((4.9478245382, 2.9025619848), (5.0613482187, 2.1690178829), (5.5142173444, 1.5808987365), (5.594316201, 2.3974189007), align=None)
        Polygon((1.1701142599, 7.2223745025), (0.2303852978, 6.5885829251), (0.9733767931, 6.0080386784), (1.8616612642, 6.3242959832), align=None)
        Polygon((2.4369348322, 5.5772161305), (2.9374917941, 4.9271671066), (3.7425603354, 4.7967360164), (3.3719542022, 5.6622656967), align=None)
        Polygon((4.6781390279, 4.6451606627), (3.7425603354, 4.7967360164), (4.0646989138, 4.0443995715), (4.8223466344, 3.7133494422), align=None)
        Polygon((3.7425603354, 4.7967360164), (2.9374917941, 4.9271671066), (3.3903609198, 4.3390479602), (4.0646989138, 4.0443995715), align=None)
        Polygon((-0.6627785313, 7.2864659098), (-1.4153666242, 6.4388849707), (-0.5513420898, 6.0613540601), (0.2303852978, 6.5885829251), align=None)
        Polygon((-2.4540265099, 6.8927218662), (-2.9721858559, 5.884608193), (-2.0414181215, 5.7338122742), (-1.4153666242, 6.4388849707), align=None)
        Polygon((-4.3422517192, 4.9605798404), (-3.4032243448, 5.0459939756), (-2.9721858559, 5.884608193), (-4.0910789776, 6.0658827581), align=None)
        Polygon((-7.134650714, 1.621301954), (-6.5611158492, 0.6436312299), (-5.9350643519, 1.3487039263), (-6.1949217518, 2.2550935314), align=None)
        Polygon((-7.3137039421, -0.2039497093), (-6.5150509077, -1.008272789), (-6.0840124187, -0.1696585716), (-6.5611158492, 0.6436312299), align=None)
        Polygon((-6.5611158492, 0.6436312299), (-6.0840124187, -0.1696585716), (-5.7089572651, 0.5600363216), (-5.9350643519, 1.3487039263), align=None)
        Polygon((-6.1949217518, 2.2550935314), (-5.9350643519, 1.3487039263), (-5.390324505, 1.9622016888), (-5.4131943642, 2.7823223964), align=None)
        Polygon((-5.4394779374, 3.7248600128), (-5.4131943642, 2.7823223964), (-4.732997832, 3.2410747074), (-4.5511934663, 4.0411173176), align=None)
        Polygon((0.2303852978, 6.5885829251), (-0.5513420898, 6.0613540601), (0.2004628252, 5.7328569136), (0.9733767931, 6.0080386784), align=None)
        Polygon((0.9733767931, 6.0080386784), (0.2004628252, 5.7328569136), (0.8806436249, 5.4356555422), (1.6198684559, 5.5028955943), align=None)
        Polygon((0.8806436249, 5.4356555422), (1.5180861634, 5.1571284259), (2.2047691494, 5.0458772641), (1.6198684559, 5.5028955943), align=None)
        Polygon((-6.5073011421, 3.3446812528), (-6.1949217518, 2.2550935314), (-5.4131943642, 2.7823223964), (-5.4394779374, 3.7248600128), align=None)
        Polygon((-5.4710739073, 4.8579019275), (-5.4394779374, 3.7248600128), (-4.5511934663, 4.0411173176), (-4.3422517192, 4.9605798404), align=None)
        Polygon((-2.9721858559, 5.884608193), (-3.4032243448, 5.0459939756), (-2.5861579684, 5.1203145117), (-2.0414181215, 5.7338122742), align=None)
        Polygon((-1.4153666242, 6.4388849707), (-2.0414181215, 5.7338122742), (-1.2315386221, 5.6026017491), (-0.5513420898, 6.0613540601), align=None)
        Polygon((1.6198684559, 5.5028955943), (2.2047691494, 5.0458772641), (2.9374917941, 4.9271671066), (2.4369348322, 5.5772161305), align=None)
        Polygon((4.3554157408, 3.3654468512), (4.9478245382, 2.9025619848), (4.8223466344, 3.7133494422), (4.0646989138, 4.0443995715), align=None)
        Polygon((5.5142173444, 1.5808987365), (5.4406486734, 0.8309466663), (5.7313046688, 0.1521360147), (6.0147743062, 0.9308497126), align=None)
        Polygon((-6.0840124187, -0.1696585716), (-6.5150509077, -1.008272789), (-5.8506796099, -1.6773607975), (-5.6688752442, -0.8773181874), align=None)
        Polygon((-4.5511934663, 4.0411173176), (-3.7782794984, 4.3162990824), (-3.4032243448, 5.0459939756), (-4.3422517192, 4.9605798404), align=None)
        Polygon((-2.0414181215, 5.7338122742), (-2.5861579684, 5.1203145117), (-1.8469331374, 5.1875545639), (-1.2315386221, 5.6026017491), align=None)
        Polygon((-1.2315386221, 5.6026017491), (-1.8469331374, 5.1875545639), (-1.1541565212, 5.2505696763), (-0.4988159775, 5.4838915915), align=None)
        Polygon((0.2004628252, 5.7328569136), (-0.4988159775, 5.4838915915), (0.1878670086, 5.3726404298), (0.8806436249, 5.4356555422), align=None)
        Polygon((2.9374917941, 4.9271671066), (2.2047691494, 5.0458772641), (2.7529183813, 4.6175750764), (3.3903609198, 4.3390479602), align=None)
        Polygon((4.0646989138, 4.0443995715), (3.3903609198, 4.3390479602), (3.8147746128, 3.7878825027), (4.3554157408, 3.3654468512), align=None)
        Polygon((4.6251600313, 2.7354743045), (5.0613482187, 2.1690178829), (4.9478245382, 2.9025619848), (4.3554157408, 3.3654468512), align=None)
        Polygon((5.0613482187, 2.1690178829), (5.1709506859, 1.4608110748), (5.4406486734, 0.8309466663), (5.5142173444, 1.5808987365), align=None)
        Polygon((5.4406486734, 0.8309466663), (5.3738350182, 0.1498545878), (5.4802255883, -0.5375982404), (5.7313046688, 0.1521360147), align=None)
        Polygon((5.4802255883, -0.5375982404), (5.2422734299, -1.1912717939), (5.1743589783, -1.8835852863), (5.5937492688, -1.2711423422), align=None)
        Polygon((5.1743589783, -1.8835852863), (5.1018911037, -2.6223159426), (5.7192271726, -2.0819297997), (5.5937492688, -1.2711423422), align=None)
        Polygon((4.7813205222, -2.4575461877), (4.5433683637, -3.1112197413), (5.1018911037, -2.6223159426), (5.1743589783, -1.8835852863), align=None)
        Polygon((4.0199396616, -3.5694039163), (3.6269012055, -4.1433648177), (4.2894623571, -3.808719788), (4.5433683637, -3.1112197413), align=None)
        Polygon((3.0059712078, -4.4569828694), (2.4825425057, -4.9151670444), (3.207510915, -4.7558077617), (3.6269012055, -4.1433648177), align=None)
        Polygon((1.8031265278, -5.0645131973), (1.1821965302, -5.378131249), (1.9240197658, -5.4040708431), (2.4825425057, -4.9151670444), align=None)
        Polygon((-1.6252848904, -5.2799610581), (-0.9678523113, -5.6736172554), (-0.1924312012, -5.5031676878), (-0.859756019, -5.3067295756), align=None)
        Polygon((-2.8197999999, -4.729758168), (-2.2967910081, -5.2564802674), (-1.6252848904, -5.2799610581), (-2.2776176458, -4.8893585234), align=None)
        Polygon((-4.5339861367, -3.5382946001), (-4.3189148979, -4.2884688698), (-3.5318665797, -4.5201495772), (-3.8771245311, -3.9316089109), align=None)
        Polygon((-3.8771245311, -3.9316089109), (-3.5318665797, -4.5201495772), (-2.8197999999, -4.729758168), (-3.2240073528, -4.3226811408), align=None)
        Polygon((-4.7495879513, -2.7862696675), (-4.5339861367, -3.5382946001), (-3.8771245311, -3.9316089109), (-4.259441538, -3.2798958802), align=None)
        Polygon((-5.5043912985, -0.153495276), (-5.6688752442, -0.8773181874), (-5.2932880012, -1.5175593906), (-5.312678964, -0.8221930591), align=None)
        Polygon((-5.7089572651, 0.5600363216), (-6.0840124187, -0.1696585716), (-5.6688752442, -0.8773181874), (-5.5043912985, -0.153495276), align=None)
        Polygon((-5.3696334469, 1.2202135113), (-5.7089572651, 0.5600363216), (-5.5043912985, -0.153495276), (-5.3502424841, 0.5248471798), align=None)
        Polygon((-5.9350643519, 1.3487039263), (-5.7089572651, 0.5600363216), (-5.3696334469, 1.2202135113), (-5.390324505, 1.9622016888), align=None)
        Polygon((-5.4131943642, 2.7823223964), (-5.390324505, 1.9622016888), (-4.8974817776, 2.5172517961), (-4.732997832, 3.2410747074), align=None)
        Polygon((-4.732997832, 3.2410747074), (-4.1176033166, 3.6561218927), (-3.7782794984, 4.3162990824), (-4.5511934663, 4.0411173176), align=None)
        Polygon((-3.4032243448, 5.0459939756), (-3.7782794984, 4.3162990824), (-3.0790006958, 4.5652644045), (-2.5861579684, 5.1203145117), align=None)
        Polygon((-5.390324505, 1.9622016888), (-5.3696334469, 1.2202135113), (-5.0516305921, 1.8389093402), (-4.8974817776, 2.5172517961), align=None)
        Polygon((-4.8974817776, 2.5172517961), (-4.4356061714, 3.0374260637), (-4.1176033166, 3.6561218927), (-4.732997832, 3.2410747074), align=None)
        Polygon((-3.7782794984, 4.3162990824), (-4.1176033166, 3.6561218927), (-3.540876302, 4.0450901368), (-3.0790006958, 4.5652644045), align=None)
        Polygon((-2.5861579684, 5.1203145117), (-3.0790006958, 4.5652644045), (-2.423660152, 4.7985863197), (-1.8469331374, 5.1875545639), align=None)
    extrude(amount=F1_DEPTH)


solid = f1.part
